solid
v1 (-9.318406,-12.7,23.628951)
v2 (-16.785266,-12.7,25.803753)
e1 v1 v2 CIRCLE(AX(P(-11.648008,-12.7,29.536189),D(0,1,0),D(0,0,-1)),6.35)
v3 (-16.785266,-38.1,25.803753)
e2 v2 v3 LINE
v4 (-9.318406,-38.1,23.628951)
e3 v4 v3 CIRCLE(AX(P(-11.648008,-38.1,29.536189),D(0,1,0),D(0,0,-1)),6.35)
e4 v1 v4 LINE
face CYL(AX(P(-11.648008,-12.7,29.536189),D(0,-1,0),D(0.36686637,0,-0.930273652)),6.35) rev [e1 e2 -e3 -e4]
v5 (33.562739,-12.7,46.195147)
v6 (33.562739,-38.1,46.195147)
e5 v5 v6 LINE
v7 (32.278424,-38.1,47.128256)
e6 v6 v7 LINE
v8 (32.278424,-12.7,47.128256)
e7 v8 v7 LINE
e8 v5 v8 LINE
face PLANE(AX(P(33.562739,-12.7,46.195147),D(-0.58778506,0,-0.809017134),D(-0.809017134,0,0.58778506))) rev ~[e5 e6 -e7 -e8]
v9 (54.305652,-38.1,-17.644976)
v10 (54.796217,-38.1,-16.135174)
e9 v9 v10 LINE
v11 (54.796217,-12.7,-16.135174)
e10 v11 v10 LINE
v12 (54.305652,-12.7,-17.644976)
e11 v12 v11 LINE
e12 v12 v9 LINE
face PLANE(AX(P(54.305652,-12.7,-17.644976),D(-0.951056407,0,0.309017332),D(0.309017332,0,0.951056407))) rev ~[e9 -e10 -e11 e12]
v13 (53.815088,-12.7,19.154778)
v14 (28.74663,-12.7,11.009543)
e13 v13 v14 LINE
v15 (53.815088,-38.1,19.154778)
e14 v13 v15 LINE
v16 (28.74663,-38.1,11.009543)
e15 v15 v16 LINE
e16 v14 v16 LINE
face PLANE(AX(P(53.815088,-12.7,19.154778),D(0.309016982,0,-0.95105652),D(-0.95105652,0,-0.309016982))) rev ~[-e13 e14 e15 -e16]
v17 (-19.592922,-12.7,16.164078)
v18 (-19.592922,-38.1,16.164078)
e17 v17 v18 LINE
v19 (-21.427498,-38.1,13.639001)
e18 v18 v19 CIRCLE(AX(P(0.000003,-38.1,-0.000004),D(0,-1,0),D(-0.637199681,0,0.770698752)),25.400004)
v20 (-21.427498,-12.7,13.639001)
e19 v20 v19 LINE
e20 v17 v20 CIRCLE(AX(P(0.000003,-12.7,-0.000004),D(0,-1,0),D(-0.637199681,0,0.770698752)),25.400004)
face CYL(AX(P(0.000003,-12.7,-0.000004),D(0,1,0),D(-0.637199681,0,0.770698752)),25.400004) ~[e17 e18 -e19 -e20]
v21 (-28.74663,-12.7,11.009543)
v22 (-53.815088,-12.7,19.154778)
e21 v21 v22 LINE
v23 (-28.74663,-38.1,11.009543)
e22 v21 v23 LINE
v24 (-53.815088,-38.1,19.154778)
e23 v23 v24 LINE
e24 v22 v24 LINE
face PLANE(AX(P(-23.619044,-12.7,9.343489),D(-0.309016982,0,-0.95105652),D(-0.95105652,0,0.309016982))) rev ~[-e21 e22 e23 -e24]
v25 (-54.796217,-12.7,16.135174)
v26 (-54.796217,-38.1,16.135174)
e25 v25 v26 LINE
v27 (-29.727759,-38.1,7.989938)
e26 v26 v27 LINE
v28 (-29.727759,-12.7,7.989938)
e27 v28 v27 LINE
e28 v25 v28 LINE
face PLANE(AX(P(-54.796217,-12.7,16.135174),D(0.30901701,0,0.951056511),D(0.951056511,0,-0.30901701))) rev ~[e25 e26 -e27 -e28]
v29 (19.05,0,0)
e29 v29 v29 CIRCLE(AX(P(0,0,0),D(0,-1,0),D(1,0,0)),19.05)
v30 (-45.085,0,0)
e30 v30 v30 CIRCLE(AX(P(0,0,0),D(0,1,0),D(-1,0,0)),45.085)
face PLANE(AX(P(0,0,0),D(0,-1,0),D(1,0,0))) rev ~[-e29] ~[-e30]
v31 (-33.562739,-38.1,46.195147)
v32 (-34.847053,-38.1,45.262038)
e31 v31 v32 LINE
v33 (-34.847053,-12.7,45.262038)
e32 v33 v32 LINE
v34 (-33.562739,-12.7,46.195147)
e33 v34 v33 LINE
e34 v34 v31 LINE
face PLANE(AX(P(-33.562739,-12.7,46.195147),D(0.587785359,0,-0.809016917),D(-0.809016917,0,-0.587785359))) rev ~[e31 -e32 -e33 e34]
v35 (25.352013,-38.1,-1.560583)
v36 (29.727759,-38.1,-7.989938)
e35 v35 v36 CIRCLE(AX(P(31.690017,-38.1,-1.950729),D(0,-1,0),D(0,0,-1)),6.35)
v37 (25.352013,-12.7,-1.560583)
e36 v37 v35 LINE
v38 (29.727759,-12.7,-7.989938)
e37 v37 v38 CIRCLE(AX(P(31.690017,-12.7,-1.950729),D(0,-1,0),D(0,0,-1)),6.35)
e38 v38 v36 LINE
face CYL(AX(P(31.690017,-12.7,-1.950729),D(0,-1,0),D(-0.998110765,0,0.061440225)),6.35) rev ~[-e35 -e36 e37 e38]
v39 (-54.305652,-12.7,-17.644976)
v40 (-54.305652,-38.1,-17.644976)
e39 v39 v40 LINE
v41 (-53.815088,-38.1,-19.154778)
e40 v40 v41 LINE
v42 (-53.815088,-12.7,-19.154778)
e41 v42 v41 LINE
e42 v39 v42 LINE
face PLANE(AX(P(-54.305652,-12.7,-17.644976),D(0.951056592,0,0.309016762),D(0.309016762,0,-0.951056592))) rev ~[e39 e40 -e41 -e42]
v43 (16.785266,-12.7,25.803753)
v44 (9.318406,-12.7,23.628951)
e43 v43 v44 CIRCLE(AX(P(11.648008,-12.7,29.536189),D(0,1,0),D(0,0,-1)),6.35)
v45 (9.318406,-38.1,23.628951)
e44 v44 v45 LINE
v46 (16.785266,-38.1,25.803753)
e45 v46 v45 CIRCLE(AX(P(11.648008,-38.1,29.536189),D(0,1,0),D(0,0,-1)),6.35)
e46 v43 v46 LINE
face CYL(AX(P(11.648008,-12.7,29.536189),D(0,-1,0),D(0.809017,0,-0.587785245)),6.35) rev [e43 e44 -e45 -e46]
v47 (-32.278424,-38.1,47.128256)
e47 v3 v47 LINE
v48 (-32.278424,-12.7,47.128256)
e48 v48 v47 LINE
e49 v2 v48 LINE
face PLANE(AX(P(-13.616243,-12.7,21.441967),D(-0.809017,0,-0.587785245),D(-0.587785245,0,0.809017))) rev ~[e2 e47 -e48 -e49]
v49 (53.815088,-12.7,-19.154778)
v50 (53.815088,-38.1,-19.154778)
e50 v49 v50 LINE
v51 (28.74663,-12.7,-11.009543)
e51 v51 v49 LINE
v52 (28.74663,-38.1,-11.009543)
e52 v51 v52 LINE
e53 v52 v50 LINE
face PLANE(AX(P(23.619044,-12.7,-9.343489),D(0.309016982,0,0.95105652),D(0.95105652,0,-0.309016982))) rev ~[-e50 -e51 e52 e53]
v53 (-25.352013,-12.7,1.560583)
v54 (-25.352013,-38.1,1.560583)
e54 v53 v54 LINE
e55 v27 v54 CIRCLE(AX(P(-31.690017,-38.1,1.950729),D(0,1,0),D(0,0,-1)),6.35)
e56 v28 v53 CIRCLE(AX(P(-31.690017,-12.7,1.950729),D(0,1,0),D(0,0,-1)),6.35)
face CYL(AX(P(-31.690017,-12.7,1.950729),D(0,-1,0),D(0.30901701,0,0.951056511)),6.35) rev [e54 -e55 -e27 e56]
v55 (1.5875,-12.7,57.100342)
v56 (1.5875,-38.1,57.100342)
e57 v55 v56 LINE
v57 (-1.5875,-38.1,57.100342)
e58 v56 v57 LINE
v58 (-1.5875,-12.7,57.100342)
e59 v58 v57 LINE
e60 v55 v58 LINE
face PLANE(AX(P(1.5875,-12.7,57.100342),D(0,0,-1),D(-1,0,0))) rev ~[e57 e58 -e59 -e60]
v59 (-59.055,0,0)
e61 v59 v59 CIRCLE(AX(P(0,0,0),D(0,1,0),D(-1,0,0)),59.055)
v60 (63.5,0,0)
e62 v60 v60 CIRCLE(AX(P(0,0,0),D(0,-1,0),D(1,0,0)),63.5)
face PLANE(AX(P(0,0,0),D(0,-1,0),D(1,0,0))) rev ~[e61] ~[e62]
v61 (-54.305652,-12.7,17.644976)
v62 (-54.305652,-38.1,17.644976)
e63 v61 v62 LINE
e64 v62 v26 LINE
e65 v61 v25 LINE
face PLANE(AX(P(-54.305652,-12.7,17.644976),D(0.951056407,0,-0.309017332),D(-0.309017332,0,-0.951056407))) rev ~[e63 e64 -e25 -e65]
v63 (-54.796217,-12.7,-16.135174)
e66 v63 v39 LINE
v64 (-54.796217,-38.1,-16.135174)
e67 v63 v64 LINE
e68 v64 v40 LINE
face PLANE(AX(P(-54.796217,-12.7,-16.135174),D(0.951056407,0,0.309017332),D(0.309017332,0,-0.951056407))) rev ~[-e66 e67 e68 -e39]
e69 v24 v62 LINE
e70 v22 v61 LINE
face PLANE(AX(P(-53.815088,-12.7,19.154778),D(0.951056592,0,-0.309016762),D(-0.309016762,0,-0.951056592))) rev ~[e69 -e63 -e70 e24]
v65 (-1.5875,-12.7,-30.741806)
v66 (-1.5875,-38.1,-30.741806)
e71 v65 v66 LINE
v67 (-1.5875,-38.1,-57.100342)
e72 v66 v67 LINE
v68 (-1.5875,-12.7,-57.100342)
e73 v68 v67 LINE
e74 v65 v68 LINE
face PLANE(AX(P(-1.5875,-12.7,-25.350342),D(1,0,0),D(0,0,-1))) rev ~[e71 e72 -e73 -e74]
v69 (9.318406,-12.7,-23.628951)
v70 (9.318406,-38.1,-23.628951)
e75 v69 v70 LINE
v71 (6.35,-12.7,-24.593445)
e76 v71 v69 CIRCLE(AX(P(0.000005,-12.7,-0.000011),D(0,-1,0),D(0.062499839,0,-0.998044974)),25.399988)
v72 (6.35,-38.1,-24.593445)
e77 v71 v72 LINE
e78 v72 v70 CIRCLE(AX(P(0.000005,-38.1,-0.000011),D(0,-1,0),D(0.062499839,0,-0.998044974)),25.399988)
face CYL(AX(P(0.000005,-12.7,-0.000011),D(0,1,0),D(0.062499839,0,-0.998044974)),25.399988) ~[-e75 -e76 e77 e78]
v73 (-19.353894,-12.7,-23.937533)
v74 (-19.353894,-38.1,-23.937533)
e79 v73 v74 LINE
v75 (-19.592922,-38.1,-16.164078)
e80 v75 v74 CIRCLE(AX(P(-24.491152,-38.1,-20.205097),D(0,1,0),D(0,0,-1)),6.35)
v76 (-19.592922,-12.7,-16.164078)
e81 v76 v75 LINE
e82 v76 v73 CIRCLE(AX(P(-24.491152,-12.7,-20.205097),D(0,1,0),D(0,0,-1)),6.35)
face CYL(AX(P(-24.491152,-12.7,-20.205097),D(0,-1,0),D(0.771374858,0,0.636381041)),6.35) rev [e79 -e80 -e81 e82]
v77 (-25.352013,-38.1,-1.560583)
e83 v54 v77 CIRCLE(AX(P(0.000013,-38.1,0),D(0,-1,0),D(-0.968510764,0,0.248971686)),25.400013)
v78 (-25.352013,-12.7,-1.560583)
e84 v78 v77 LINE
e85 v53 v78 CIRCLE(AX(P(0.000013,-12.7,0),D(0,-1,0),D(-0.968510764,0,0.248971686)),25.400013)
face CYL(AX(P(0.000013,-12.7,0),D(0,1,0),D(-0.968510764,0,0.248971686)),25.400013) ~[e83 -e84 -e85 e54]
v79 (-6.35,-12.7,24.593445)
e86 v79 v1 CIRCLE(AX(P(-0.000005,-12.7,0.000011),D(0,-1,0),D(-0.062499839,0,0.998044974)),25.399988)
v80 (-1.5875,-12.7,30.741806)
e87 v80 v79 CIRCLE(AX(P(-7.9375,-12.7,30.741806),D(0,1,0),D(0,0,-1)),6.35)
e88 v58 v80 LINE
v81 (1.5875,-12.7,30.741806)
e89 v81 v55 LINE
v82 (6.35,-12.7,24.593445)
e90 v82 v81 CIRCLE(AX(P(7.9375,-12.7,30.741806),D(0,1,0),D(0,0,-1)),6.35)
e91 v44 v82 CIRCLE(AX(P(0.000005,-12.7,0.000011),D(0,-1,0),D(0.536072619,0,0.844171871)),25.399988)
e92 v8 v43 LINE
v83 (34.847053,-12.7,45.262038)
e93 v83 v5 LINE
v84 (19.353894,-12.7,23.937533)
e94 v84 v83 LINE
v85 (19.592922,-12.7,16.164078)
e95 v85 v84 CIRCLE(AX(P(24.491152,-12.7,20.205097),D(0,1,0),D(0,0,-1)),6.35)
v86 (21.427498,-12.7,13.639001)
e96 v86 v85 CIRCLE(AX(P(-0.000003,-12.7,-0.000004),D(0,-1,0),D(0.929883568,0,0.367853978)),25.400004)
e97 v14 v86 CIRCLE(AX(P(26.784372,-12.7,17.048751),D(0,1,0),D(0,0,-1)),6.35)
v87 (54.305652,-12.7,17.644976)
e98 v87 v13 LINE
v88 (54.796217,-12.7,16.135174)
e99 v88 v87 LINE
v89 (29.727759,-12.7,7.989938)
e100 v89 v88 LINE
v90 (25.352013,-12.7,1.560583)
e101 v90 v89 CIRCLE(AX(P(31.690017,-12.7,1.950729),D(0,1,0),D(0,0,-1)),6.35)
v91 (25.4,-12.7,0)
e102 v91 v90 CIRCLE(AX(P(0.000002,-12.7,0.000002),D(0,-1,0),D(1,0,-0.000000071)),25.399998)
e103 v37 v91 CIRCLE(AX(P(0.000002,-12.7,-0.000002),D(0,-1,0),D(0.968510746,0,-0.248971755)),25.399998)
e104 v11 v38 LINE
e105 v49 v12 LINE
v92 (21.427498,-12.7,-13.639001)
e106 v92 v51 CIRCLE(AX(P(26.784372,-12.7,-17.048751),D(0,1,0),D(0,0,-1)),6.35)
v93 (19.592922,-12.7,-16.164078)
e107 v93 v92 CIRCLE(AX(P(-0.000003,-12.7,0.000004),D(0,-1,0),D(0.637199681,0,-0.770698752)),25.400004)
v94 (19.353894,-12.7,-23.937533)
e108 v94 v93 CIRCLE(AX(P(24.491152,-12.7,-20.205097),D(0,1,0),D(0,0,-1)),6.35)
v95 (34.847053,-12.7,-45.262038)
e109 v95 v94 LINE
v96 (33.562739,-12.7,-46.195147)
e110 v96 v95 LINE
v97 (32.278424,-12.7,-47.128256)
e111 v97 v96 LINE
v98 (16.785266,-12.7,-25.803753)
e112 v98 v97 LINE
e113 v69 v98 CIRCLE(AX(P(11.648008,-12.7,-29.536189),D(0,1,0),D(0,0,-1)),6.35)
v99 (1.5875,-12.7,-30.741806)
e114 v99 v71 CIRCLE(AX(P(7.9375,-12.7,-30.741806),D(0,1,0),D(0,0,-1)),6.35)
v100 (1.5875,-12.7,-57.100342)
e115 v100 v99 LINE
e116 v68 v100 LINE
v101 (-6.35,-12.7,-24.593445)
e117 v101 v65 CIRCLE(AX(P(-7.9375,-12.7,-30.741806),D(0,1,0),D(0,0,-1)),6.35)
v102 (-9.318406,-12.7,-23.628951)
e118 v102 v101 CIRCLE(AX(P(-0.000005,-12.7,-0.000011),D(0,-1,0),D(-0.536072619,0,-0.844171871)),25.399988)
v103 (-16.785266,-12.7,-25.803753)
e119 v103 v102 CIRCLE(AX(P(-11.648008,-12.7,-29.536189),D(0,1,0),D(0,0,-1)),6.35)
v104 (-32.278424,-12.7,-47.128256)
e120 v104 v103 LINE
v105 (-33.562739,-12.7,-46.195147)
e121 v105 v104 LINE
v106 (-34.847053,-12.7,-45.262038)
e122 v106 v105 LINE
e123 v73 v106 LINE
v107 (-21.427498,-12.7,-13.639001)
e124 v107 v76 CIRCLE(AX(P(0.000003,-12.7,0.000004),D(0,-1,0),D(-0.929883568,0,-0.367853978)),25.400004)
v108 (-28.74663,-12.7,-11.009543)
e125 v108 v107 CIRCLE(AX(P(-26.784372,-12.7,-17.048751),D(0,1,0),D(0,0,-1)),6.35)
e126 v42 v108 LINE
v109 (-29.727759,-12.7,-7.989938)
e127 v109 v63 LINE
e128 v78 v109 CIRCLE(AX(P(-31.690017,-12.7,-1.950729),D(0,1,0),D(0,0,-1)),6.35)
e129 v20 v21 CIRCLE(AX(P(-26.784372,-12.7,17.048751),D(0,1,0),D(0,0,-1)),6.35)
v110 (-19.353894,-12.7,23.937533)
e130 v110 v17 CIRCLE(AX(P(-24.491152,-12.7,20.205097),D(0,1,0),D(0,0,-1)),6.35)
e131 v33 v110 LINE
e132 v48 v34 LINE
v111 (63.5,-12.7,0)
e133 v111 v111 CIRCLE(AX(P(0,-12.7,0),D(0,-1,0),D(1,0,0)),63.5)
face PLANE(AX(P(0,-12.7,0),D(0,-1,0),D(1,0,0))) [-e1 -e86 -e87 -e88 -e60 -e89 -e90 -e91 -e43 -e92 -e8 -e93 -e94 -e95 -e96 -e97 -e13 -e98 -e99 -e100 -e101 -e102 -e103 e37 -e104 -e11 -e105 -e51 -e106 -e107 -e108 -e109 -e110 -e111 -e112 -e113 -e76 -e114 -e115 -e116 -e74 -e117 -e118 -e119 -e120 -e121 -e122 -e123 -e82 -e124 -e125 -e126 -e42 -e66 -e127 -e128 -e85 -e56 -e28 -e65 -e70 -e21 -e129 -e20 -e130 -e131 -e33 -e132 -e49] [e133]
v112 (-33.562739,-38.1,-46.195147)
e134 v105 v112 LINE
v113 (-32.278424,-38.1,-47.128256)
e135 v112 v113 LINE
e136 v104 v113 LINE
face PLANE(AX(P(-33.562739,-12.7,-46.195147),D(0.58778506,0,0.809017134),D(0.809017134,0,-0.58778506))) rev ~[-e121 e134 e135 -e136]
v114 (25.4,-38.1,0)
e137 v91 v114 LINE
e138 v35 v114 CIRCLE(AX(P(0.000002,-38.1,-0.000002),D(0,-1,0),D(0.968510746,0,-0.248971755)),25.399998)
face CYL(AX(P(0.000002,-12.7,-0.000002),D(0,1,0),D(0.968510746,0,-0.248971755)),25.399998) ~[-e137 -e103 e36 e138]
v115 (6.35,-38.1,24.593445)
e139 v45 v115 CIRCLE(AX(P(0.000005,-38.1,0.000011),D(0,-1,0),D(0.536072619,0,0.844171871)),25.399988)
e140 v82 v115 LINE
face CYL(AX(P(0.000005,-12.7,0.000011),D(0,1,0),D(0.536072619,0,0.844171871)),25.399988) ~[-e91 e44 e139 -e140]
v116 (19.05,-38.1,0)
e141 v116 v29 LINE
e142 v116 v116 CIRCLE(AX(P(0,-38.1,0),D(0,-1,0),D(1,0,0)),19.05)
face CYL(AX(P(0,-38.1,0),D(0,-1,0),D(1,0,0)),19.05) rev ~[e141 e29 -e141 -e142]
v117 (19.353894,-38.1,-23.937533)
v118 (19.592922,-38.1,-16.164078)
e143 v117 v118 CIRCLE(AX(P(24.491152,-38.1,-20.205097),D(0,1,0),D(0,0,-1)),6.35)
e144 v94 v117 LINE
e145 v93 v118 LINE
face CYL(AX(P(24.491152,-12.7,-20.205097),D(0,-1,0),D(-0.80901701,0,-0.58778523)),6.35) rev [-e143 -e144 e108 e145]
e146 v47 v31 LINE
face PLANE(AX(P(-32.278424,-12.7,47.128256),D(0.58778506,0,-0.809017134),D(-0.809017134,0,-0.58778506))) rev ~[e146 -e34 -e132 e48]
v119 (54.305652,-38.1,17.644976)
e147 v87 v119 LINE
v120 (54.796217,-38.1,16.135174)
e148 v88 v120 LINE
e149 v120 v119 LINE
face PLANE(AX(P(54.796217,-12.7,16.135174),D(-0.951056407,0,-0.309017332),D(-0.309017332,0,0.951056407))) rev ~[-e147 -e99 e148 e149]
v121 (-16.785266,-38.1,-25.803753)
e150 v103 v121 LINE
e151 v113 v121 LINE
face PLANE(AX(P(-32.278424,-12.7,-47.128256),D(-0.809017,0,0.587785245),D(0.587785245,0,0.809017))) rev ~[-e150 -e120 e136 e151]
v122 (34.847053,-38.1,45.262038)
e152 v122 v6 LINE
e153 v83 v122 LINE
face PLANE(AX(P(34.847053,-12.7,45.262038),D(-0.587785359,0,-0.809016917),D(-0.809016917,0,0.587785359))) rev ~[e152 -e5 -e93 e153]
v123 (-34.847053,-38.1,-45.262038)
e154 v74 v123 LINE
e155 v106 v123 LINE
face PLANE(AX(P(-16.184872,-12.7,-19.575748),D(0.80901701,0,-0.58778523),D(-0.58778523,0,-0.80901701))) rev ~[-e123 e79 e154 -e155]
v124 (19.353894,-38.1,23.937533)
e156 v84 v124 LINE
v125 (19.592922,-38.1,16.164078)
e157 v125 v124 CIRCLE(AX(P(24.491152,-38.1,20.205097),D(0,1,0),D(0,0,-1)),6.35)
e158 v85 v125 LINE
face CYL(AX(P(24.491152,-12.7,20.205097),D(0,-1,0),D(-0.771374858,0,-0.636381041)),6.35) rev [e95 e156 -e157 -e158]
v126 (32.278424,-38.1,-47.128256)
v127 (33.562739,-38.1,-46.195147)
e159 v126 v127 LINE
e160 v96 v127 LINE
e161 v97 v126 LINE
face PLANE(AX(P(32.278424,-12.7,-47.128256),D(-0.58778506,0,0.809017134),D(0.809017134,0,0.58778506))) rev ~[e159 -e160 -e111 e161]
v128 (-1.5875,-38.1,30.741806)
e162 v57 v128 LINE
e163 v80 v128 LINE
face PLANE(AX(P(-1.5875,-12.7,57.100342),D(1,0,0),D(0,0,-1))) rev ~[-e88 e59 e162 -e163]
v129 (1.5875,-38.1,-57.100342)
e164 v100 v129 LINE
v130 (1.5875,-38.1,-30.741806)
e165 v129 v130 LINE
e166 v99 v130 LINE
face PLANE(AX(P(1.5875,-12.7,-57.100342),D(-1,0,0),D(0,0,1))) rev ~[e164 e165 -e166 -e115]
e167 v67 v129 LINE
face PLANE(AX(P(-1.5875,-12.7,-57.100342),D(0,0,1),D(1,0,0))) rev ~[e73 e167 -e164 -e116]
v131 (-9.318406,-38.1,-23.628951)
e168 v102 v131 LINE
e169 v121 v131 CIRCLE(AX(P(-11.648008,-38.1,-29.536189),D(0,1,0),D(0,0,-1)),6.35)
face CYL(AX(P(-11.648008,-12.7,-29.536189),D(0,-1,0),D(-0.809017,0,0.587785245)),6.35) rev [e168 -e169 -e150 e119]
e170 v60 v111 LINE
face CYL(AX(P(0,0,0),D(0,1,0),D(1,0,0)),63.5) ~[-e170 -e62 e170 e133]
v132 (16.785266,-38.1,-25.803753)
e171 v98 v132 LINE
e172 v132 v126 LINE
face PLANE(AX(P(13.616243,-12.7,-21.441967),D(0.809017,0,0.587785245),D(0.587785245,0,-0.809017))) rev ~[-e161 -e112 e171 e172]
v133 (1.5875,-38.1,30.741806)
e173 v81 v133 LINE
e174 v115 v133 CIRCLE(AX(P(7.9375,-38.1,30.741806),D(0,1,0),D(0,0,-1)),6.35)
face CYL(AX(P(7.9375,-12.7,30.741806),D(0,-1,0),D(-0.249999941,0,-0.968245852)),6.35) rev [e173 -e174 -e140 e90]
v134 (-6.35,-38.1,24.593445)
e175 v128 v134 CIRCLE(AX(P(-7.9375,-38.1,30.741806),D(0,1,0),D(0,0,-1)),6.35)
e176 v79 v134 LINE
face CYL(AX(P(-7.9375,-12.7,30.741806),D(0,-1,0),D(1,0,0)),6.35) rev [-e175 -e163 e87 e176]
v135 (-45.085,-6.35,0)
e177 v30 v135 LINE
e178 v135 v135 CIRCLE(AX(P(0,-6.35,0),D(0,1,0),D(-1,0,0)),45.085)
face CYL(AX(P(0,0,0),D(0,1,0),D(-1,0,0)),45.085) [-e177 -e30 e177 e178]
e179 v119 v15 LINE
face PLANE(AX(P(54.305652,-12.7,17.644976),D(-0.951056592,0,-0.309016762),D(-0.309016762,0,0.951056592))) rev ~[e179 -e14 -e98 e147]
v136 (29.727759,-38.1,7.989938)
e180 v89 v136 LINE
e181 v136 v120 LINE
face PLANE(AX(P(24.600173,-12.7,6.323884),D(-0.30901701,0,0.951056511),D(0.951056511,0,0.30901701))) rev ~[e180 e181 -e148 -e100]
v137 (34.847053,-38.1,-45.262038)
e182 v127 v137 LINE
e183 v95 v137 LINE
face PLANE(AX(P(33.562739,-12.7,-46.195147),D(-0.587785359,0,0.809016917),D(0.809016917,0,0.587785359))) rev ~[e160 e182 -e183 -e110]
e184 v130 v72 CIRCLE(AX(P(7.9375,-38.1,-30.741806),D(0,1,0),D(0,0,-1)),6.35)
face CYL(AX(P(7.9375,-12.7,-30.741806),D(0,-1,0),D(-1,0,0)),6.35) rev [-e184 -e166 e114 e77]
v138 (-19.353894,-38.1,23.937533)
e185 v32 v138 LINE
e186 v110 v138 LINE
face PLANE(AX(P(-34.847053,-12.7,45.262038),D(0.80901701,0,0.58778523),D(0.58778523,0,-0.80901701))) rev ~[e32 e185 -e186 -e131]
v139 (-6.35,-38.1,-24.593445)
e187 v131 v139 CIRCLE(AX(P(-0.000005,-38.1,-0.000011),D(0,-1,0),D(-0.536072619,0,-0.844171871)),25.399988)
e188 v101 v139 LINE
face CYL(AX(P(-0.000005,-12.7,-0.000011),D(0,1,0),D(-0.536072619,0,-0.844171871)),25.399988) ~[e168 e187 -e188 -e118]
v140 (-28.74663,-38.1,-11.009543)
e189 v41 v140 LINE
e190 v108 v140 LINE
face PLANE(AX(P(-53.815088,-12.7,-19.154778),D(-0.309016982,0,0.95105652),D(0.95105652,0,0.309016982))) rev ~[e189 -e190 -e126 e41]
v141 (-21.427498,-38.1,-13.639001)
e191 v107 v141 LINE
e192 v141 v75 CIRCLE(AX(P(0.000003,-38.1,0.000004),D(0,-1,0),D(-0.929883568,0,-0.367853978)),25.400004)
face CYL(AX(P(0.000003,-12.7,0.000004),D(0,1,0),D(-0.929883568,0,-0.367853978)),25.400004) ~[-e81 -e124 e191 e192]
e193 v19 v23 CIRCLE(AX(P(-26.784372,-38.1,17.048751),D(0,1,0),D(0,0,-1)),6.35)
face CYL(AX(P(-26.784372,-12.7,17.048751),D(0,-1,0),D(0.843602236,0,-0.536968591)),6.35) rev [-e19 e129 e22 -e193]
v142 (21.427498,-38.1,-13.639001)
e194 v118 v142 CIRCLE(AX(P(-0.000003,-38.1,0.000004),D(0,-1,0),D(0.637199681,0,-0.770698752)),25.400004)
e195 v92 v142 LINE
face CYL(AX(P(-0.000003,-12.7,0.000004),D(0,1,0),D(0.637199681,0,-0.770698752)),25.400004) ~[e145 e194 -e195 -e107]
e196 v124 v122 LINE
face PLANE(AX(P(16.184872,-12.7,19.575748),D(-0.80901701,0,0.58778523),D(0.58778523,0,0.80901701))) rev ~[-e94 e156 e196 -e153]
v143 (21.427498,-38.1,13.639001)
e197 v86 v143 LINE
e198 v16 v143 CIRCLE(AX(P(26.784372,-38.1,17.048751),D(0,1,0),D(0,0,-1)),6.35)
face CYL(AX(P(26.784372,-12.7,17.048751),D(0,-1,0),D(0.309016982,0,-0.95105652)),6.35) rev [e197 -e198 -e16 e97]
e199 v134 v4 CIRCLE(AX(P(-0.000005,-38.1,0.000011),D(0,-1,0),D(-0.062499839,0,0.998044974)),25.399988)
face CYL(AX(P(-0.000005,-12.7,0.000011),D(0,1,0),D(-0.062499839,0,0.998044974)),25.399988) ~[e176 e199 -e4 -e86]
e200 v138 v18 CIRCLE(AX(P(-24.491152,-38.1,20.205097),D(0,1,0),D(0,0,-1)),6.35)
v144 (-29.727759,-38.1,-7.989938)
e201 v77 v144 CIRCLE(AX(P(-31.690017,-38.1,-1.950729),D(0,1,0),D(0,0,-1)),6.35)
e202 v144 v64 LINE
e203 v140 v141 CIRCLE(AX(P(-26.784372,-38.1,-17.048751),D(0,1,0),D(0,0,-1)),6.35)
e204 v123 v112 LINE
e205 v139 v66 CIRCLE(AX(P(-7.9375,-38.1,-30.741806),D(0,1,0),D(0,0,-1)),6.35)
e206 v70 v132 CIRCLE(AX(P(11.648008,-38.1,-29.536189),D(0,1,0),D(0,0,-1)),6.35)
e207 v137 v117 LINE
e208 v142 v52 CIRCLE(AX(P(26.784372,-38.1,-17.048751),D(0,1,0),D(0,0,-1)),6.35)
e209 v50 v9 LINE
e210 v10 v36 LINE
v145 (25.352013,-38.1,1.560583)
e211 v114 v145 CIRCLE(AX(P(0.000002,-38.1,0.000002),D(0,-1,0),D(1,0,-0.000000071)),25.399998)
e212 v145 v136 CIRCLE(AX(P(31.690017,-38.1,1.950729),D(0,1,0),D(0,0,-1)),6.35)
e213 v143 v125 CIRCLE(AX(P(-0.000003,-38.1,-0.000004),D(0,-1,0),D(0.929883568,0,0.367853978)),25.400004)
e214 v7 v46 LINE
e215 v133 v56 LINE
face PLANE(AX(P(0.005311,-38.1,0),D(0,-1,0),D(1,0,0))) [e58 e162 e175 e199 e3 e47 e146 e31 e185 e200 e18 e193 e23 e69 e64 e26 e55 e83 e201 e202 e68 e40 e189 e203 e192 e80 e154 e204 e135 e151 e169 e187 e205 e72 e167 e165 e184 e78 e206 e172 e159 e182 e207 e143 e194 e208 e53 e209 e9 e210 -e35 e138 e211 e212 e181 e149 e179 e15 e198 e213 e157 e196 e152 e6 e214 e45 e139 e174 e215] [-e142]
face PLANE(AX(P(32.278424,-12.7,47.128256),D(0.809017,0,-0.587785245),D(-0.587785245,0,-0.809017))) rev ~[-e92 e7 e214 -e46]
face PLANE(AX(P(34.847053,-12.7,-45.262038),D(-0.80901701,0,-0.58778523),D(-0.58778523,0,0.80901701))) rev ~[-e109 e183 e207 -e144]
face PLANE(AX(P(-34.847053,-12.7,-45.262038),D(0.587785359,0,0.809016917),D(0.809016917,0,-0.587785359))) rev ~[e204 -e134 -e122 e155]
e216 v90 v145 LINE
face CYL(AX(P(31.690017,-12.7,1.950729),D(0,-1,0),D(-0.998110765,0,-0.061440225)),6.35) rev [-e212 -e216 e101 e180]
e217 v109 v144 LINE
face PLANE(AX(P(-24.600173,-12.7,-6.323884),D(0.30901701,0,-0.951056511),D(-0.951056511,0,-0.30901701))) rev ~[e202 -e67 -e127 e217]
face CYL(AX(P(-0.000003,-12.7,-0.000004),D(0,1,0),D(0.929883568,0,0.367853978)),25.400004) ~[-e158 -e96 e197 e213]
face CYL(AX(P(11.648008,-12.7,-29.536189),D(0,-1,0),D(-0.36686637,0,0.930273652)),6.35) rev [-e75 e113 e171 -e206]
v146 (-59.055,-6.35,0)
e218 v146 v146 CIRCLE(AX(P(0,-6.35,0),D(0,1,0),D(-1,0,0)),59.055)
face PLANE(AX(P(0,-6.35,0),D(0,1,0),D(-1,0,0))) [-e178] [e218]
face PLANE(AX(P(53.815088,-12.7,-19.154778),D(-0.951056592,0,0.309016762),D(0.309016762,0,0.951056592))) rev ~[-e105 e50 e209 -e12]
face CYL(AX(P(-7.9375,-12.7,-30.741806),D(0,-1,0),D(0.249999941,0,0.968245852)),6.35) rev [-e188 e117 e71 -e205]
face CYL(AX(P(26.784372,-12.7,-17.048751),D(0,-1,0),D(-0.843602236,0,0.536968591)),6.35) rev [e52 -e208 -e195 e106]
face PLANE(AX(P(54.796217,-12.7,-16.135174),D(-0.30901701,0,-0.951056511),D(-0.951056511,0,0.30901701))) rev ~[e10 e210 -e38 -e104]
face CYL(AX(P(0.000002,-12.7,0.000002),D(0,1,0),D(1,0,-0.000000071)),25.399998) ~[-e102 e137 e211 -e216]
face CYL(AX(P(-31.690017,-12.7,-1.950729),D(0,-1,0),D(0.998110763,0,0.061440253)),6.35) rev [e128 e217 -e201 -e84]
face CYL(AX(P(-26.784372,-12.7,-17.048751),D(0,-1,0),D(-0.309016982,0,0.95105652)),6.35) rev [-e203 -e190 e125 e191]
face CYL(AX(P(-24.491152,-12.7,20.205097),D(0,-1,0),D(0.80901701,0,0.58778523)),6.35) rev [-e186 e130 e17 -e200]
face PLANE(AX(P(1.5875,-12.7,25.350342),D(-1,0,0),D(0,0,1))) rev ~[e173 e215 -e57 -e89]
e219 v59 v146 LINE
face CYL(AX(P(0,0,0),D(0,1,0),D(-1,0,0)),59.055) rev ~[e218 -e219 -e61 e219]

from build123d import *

# Parameters (mm, degrees)
F0_R     = 63.5
F1_DEPTH = 12.7
F3_DEPTH = 25.4
F4_R     = 6.35
F5_R     = 19.05
F6_DEPTH = 38.101
F7_R     = 59.055
F7_R_2   = 45.085
F8_DEPTH = 6.35


with BuildPart() as f1:
    # F0 (on Front) → F1 (new body)
    with BuildSketch(Plane.XZ):
        Circle(F0_R)
    extrude(amount=F1_DEPTH)

    # F2 (on face) → F3 (join)
    with BuildSketch(Plane.XZ.offset(12.7)):
        with BuildLine():
            ThreePointArc((24.600173, -6.323884), (25.19925, -3.187132), (25.4, 0))
            ThreePointArc((25.4, 0), (25.19925, 3.187132), (24.600173, 6.323884))
            ThreePointArc((24.600173, 6.323884), (24.156836, 7.849032), (23.619044, 9.343489))
            ThreePointArc((23.619044, 9.343489), (20.549032, 14.929745), (16.184872, 19.575748))
            ThreePointArc((16.184872, 19.575748), (14.929745, 20.549032), (13.616243, 21.441967))
            ThreePointArc((13.616243, 21.441967), (7.849032, 24.156836), (1.5875, 25.350342))
            ThreePointArc((1.5875, 25.350342), (0, 25.4), (-1.5875, 25.350342))
            ThreePointArc((-1.5875, 25.350342), (-7.849032, 24.156836), (-13.616243, 21.441967))
            ThreePointArc((-13.616243, 21.441967), (-14.929745, 20.549032), (-16.184872, 19.575748))
            ThreePointArc((-16.184872, 19.575748), (-20.549032, 14.929745), (-23.619044, 9.343489))
            ThreePointArc((-23.619044, 9.343489), (-24.156836, 7.849032), (-24.600173, 6.323884))
            ThreePointArc((-24.600173, 6.323884), (-25.4, 0), (-24.600173, -6.323884))
            ThreePointArc((-24.600173, -6.323884), (-24.156836, -7.849032), (-23.619044, -9.343489))
            ThreePointArc((-23.619044, -9.343489), (-20.549032, -14.929745), (-16.184872, -19.575748))
            ThreePointArc((-16.184872, -19.575748), (-14.929745, -20.549032), (-13.616243, -21.441967))
            ThreePointArc((-13.616243, -21.441967), (-7.849032, -24.156836), (-1.5875, -25.350342))
            ThreePointArc((-1.5875, -25.350342), (0, -25.4), (1.5875, -25.350342))
            ThreePointArc((1.5875, -25.350342), (7.849032, -24.156836), (13.616243, -21.441967))
            ThreePointArc((13.616243, -21.441967), (14.929745, -20.549032), (16.184872, -19.575748))
            ThreePointArc((16.184872, -19.575748), (20.549032, -14.929745), (23.619044, -9.343489))
            ThreePointArc((23.619044, -9.343489), (24.156836, -7.849032), (24.600173, -6.323884))
        make_face()
        with BuildLine():
            ThreePointArc((23.619044, 9.343489), (24.156836, 7.849032), (24.600173, 6.323884))
            Line((24.600173, 6.323884), (54.796217, 16.135174))
            Line((54.796217, 16.135174), (54.305652, 17.644976))
            Line((54.305652, 17.644976), (53.815088, 19.154778))
            Line((53.815088, 19.154778), (23.619044, 9.343489))
        make_face()
        with BuildLine():
            Line((54.796217, -16.135174), (24.600173, -6.323884))
            ThreePointArc((24.600173, -6.323884), (24.156836, -7.849032), (23.619044, -9.343489))
            Line((23.619044, -9.343489), (53.815088, -19.154778))
            Line((53.815088, -19.154778), (54.305652, -17.644976))
            Line((54.305652, -17.644976), (54.796217, -16.135174))
        make_face()
        with BuildLine():
            ThreePointArc((13.616243, 21.441967), (14.929745, 20.549032), (16.184872, 19.575748))
            Line((16.184872, 19.575748), (34.847053, 45.262038))
            Line((34.847053, 45.262038), (33.562739, 46.195147))
            Line((33.562739, 46.195147), (32.278424, 47.128256))
            Line((32.278424, 47.128256), (13.616243, 21.441967))
        make_face()
        with BuildLine():
            Line((34.847053, -45.262038), (16.184872, -19.575748))
            ThreePointArc((16.184872, -19.575748), (14.929745, -20.549032), (13.616243, -21.441967))
            Line((13.616243, -21.441967), (32.278424, -47.128256))
            Line((32.278424, -47.128256), (33.562739, -46.195147))
            Line((33.562739, -46.195147), (34.847053, -45.262038))
        make_face()
        with BuildLine():
            ThreePointArc((-1.5875, 25.350342), (0, 25.4), (1.5875, 25.350342))
            Line((1.5875, 25.350342), (1.5875, 57.100342))
            Line((1.5875, 57.100342), (0, 57.100342))
            Line((0, 57.100342), (-1.5875, 57.100342))
            Line((-1.5875, 57.100342), (-1.5875, 25.350342))
        make_face()
        with BuildLine():
            Line((1.5875, -57.100342), (1.5875, -25.350342))
            ThreePointArc((1.5875, -25.350342), (0, -25.4), (-1.5875, -25.350342))
            Line((-1.5875, -25.350342), (-1.5875, -57.100342))
            Line((-1.5875, -57.100342), (0, -57.100342))
            Line((0, -57.100342), (1.5875, -57.100342))
        make_face()
        with BuildLine():
            ThreePointArc((-16.184872, 19.575748), (-14.929745, 20.549032), (-13.616243, 21.441967))
            Line((-13.616243, 21.441967), (-32.278424, 47.128256))
            Line((-32.278424, 47.128256), (-33.562739, 46.195147))
            Line((-33.562739, 46.195147), (-34.847053, 45.262038))
            Line((-34.847053, 45.262038), (-16.184872, 19.575748))
        make_face()
        with BuildLine():
            Line((-32.278424, -47.128256), (-13.616243, -21.441967))
            ThreePointArc((-13.616243, -21.441967), (-14.929745, -20.549032), (-16.184872, -19.575748))
            Line((-16.184872, -19.575748), (-34.847053, -45.262038))
            Line((-34.847053, -45.262038), (-33.562739, -46.195147))
            Line((-33.562739, -46.195147), (-32.278424, -47.128256))
        make_face()
        with BuildLine():
            ThreePointArc((-24.600173, 6.323884), (-24.156836, 7.849032), (-23.619044, 9.343489))
            Line((-23.619044, 9.343489), (-53.815088, 19.154778))
            Line((-53.815088, 19.154778), (-54.305652, 17.644976))
            Line((-54.305652, 17.644976), (-54.796217, 16.135174))
            Line((-54.796217, 16.135174), (-24.600173, 6.323884))
        make_face()
        with BuildLine():
            Line((-53.815088, -19.154778), (-23.619044, -9.343489))
            ThreePointArc((-23.619044, -9.343489), (-24.156836, -7.849032), (-24.600173, -6.323884))
            Line((-24.600173, -6.323884), (-54.796217, -16.135174))
            Line((-54.796217, -16.135174), (-54.305652, -17.644976))
            Line((-54.305652, -17.644976), (-53.815088, -19.154778))
        make_face()
    extrude(amount=F3_DEPTH)

    # F4
    f4_edges = [f1.edges().sort_by_distance(p)[0] for p in [
        (-16.184872, -25.4, 19.575748),
        (-1.5875, -25.4, 25.350342),
        (-24.600173, -25.4, 6.323884),
        (-24.600173, -25.4, -6.323884),
        (-23.619044, -25.4, -9.343489),
        (-16.184872, -25.4, -19.575748),
        (-13.616243, -25.4, -21.441967),
        (-1.5875, -25.4, -25.350342),
        (13.616243, -25.4, -21.441967),
        (1.5875, -25.4, -25.350342),
        (16.184872, -25.4, -19.575748),
        (23.619044, -25.4, -9.343489),
        (24.600173, -25.4, -6.323884),
        (24.600173, -25.4, 6.323884),
        (23.619044, -25.4, 9.343489),
        (16.184872, -25.4, 19.575748),
        (13.616243, -25.4, 21.441967),
        (1.5875, -25.4, 25.350342),
        (-13.616243, -25.4, 21.441967),
        (-23.619044, -25.4, 9.343489),
    ]]
    fillet(f4_edges, radius=F4_R)

    # F5 (on face) → F6 (cut, through all)
    with BuildSketch(Plane.XZ.offset(38.1)):
        Circle(F5_R)
    extrude(amount=-F6_DEPTH, mode=Mode.SUBTRACT)

    # F7 (on face) → F8 (cut)
    with BuildSketch(Plane(origin=(0, 0, 0), x_dir=(-1, 0, 0), z_dir=(0, 1, 0))):
        Circle(F7_R)
        Circle(F7_R_2, mode=Mode.SUBTRACT)
    extrude(amount=-F8_DEPTH, mode=Mode.SUBTRACT)


solid = f1.part
